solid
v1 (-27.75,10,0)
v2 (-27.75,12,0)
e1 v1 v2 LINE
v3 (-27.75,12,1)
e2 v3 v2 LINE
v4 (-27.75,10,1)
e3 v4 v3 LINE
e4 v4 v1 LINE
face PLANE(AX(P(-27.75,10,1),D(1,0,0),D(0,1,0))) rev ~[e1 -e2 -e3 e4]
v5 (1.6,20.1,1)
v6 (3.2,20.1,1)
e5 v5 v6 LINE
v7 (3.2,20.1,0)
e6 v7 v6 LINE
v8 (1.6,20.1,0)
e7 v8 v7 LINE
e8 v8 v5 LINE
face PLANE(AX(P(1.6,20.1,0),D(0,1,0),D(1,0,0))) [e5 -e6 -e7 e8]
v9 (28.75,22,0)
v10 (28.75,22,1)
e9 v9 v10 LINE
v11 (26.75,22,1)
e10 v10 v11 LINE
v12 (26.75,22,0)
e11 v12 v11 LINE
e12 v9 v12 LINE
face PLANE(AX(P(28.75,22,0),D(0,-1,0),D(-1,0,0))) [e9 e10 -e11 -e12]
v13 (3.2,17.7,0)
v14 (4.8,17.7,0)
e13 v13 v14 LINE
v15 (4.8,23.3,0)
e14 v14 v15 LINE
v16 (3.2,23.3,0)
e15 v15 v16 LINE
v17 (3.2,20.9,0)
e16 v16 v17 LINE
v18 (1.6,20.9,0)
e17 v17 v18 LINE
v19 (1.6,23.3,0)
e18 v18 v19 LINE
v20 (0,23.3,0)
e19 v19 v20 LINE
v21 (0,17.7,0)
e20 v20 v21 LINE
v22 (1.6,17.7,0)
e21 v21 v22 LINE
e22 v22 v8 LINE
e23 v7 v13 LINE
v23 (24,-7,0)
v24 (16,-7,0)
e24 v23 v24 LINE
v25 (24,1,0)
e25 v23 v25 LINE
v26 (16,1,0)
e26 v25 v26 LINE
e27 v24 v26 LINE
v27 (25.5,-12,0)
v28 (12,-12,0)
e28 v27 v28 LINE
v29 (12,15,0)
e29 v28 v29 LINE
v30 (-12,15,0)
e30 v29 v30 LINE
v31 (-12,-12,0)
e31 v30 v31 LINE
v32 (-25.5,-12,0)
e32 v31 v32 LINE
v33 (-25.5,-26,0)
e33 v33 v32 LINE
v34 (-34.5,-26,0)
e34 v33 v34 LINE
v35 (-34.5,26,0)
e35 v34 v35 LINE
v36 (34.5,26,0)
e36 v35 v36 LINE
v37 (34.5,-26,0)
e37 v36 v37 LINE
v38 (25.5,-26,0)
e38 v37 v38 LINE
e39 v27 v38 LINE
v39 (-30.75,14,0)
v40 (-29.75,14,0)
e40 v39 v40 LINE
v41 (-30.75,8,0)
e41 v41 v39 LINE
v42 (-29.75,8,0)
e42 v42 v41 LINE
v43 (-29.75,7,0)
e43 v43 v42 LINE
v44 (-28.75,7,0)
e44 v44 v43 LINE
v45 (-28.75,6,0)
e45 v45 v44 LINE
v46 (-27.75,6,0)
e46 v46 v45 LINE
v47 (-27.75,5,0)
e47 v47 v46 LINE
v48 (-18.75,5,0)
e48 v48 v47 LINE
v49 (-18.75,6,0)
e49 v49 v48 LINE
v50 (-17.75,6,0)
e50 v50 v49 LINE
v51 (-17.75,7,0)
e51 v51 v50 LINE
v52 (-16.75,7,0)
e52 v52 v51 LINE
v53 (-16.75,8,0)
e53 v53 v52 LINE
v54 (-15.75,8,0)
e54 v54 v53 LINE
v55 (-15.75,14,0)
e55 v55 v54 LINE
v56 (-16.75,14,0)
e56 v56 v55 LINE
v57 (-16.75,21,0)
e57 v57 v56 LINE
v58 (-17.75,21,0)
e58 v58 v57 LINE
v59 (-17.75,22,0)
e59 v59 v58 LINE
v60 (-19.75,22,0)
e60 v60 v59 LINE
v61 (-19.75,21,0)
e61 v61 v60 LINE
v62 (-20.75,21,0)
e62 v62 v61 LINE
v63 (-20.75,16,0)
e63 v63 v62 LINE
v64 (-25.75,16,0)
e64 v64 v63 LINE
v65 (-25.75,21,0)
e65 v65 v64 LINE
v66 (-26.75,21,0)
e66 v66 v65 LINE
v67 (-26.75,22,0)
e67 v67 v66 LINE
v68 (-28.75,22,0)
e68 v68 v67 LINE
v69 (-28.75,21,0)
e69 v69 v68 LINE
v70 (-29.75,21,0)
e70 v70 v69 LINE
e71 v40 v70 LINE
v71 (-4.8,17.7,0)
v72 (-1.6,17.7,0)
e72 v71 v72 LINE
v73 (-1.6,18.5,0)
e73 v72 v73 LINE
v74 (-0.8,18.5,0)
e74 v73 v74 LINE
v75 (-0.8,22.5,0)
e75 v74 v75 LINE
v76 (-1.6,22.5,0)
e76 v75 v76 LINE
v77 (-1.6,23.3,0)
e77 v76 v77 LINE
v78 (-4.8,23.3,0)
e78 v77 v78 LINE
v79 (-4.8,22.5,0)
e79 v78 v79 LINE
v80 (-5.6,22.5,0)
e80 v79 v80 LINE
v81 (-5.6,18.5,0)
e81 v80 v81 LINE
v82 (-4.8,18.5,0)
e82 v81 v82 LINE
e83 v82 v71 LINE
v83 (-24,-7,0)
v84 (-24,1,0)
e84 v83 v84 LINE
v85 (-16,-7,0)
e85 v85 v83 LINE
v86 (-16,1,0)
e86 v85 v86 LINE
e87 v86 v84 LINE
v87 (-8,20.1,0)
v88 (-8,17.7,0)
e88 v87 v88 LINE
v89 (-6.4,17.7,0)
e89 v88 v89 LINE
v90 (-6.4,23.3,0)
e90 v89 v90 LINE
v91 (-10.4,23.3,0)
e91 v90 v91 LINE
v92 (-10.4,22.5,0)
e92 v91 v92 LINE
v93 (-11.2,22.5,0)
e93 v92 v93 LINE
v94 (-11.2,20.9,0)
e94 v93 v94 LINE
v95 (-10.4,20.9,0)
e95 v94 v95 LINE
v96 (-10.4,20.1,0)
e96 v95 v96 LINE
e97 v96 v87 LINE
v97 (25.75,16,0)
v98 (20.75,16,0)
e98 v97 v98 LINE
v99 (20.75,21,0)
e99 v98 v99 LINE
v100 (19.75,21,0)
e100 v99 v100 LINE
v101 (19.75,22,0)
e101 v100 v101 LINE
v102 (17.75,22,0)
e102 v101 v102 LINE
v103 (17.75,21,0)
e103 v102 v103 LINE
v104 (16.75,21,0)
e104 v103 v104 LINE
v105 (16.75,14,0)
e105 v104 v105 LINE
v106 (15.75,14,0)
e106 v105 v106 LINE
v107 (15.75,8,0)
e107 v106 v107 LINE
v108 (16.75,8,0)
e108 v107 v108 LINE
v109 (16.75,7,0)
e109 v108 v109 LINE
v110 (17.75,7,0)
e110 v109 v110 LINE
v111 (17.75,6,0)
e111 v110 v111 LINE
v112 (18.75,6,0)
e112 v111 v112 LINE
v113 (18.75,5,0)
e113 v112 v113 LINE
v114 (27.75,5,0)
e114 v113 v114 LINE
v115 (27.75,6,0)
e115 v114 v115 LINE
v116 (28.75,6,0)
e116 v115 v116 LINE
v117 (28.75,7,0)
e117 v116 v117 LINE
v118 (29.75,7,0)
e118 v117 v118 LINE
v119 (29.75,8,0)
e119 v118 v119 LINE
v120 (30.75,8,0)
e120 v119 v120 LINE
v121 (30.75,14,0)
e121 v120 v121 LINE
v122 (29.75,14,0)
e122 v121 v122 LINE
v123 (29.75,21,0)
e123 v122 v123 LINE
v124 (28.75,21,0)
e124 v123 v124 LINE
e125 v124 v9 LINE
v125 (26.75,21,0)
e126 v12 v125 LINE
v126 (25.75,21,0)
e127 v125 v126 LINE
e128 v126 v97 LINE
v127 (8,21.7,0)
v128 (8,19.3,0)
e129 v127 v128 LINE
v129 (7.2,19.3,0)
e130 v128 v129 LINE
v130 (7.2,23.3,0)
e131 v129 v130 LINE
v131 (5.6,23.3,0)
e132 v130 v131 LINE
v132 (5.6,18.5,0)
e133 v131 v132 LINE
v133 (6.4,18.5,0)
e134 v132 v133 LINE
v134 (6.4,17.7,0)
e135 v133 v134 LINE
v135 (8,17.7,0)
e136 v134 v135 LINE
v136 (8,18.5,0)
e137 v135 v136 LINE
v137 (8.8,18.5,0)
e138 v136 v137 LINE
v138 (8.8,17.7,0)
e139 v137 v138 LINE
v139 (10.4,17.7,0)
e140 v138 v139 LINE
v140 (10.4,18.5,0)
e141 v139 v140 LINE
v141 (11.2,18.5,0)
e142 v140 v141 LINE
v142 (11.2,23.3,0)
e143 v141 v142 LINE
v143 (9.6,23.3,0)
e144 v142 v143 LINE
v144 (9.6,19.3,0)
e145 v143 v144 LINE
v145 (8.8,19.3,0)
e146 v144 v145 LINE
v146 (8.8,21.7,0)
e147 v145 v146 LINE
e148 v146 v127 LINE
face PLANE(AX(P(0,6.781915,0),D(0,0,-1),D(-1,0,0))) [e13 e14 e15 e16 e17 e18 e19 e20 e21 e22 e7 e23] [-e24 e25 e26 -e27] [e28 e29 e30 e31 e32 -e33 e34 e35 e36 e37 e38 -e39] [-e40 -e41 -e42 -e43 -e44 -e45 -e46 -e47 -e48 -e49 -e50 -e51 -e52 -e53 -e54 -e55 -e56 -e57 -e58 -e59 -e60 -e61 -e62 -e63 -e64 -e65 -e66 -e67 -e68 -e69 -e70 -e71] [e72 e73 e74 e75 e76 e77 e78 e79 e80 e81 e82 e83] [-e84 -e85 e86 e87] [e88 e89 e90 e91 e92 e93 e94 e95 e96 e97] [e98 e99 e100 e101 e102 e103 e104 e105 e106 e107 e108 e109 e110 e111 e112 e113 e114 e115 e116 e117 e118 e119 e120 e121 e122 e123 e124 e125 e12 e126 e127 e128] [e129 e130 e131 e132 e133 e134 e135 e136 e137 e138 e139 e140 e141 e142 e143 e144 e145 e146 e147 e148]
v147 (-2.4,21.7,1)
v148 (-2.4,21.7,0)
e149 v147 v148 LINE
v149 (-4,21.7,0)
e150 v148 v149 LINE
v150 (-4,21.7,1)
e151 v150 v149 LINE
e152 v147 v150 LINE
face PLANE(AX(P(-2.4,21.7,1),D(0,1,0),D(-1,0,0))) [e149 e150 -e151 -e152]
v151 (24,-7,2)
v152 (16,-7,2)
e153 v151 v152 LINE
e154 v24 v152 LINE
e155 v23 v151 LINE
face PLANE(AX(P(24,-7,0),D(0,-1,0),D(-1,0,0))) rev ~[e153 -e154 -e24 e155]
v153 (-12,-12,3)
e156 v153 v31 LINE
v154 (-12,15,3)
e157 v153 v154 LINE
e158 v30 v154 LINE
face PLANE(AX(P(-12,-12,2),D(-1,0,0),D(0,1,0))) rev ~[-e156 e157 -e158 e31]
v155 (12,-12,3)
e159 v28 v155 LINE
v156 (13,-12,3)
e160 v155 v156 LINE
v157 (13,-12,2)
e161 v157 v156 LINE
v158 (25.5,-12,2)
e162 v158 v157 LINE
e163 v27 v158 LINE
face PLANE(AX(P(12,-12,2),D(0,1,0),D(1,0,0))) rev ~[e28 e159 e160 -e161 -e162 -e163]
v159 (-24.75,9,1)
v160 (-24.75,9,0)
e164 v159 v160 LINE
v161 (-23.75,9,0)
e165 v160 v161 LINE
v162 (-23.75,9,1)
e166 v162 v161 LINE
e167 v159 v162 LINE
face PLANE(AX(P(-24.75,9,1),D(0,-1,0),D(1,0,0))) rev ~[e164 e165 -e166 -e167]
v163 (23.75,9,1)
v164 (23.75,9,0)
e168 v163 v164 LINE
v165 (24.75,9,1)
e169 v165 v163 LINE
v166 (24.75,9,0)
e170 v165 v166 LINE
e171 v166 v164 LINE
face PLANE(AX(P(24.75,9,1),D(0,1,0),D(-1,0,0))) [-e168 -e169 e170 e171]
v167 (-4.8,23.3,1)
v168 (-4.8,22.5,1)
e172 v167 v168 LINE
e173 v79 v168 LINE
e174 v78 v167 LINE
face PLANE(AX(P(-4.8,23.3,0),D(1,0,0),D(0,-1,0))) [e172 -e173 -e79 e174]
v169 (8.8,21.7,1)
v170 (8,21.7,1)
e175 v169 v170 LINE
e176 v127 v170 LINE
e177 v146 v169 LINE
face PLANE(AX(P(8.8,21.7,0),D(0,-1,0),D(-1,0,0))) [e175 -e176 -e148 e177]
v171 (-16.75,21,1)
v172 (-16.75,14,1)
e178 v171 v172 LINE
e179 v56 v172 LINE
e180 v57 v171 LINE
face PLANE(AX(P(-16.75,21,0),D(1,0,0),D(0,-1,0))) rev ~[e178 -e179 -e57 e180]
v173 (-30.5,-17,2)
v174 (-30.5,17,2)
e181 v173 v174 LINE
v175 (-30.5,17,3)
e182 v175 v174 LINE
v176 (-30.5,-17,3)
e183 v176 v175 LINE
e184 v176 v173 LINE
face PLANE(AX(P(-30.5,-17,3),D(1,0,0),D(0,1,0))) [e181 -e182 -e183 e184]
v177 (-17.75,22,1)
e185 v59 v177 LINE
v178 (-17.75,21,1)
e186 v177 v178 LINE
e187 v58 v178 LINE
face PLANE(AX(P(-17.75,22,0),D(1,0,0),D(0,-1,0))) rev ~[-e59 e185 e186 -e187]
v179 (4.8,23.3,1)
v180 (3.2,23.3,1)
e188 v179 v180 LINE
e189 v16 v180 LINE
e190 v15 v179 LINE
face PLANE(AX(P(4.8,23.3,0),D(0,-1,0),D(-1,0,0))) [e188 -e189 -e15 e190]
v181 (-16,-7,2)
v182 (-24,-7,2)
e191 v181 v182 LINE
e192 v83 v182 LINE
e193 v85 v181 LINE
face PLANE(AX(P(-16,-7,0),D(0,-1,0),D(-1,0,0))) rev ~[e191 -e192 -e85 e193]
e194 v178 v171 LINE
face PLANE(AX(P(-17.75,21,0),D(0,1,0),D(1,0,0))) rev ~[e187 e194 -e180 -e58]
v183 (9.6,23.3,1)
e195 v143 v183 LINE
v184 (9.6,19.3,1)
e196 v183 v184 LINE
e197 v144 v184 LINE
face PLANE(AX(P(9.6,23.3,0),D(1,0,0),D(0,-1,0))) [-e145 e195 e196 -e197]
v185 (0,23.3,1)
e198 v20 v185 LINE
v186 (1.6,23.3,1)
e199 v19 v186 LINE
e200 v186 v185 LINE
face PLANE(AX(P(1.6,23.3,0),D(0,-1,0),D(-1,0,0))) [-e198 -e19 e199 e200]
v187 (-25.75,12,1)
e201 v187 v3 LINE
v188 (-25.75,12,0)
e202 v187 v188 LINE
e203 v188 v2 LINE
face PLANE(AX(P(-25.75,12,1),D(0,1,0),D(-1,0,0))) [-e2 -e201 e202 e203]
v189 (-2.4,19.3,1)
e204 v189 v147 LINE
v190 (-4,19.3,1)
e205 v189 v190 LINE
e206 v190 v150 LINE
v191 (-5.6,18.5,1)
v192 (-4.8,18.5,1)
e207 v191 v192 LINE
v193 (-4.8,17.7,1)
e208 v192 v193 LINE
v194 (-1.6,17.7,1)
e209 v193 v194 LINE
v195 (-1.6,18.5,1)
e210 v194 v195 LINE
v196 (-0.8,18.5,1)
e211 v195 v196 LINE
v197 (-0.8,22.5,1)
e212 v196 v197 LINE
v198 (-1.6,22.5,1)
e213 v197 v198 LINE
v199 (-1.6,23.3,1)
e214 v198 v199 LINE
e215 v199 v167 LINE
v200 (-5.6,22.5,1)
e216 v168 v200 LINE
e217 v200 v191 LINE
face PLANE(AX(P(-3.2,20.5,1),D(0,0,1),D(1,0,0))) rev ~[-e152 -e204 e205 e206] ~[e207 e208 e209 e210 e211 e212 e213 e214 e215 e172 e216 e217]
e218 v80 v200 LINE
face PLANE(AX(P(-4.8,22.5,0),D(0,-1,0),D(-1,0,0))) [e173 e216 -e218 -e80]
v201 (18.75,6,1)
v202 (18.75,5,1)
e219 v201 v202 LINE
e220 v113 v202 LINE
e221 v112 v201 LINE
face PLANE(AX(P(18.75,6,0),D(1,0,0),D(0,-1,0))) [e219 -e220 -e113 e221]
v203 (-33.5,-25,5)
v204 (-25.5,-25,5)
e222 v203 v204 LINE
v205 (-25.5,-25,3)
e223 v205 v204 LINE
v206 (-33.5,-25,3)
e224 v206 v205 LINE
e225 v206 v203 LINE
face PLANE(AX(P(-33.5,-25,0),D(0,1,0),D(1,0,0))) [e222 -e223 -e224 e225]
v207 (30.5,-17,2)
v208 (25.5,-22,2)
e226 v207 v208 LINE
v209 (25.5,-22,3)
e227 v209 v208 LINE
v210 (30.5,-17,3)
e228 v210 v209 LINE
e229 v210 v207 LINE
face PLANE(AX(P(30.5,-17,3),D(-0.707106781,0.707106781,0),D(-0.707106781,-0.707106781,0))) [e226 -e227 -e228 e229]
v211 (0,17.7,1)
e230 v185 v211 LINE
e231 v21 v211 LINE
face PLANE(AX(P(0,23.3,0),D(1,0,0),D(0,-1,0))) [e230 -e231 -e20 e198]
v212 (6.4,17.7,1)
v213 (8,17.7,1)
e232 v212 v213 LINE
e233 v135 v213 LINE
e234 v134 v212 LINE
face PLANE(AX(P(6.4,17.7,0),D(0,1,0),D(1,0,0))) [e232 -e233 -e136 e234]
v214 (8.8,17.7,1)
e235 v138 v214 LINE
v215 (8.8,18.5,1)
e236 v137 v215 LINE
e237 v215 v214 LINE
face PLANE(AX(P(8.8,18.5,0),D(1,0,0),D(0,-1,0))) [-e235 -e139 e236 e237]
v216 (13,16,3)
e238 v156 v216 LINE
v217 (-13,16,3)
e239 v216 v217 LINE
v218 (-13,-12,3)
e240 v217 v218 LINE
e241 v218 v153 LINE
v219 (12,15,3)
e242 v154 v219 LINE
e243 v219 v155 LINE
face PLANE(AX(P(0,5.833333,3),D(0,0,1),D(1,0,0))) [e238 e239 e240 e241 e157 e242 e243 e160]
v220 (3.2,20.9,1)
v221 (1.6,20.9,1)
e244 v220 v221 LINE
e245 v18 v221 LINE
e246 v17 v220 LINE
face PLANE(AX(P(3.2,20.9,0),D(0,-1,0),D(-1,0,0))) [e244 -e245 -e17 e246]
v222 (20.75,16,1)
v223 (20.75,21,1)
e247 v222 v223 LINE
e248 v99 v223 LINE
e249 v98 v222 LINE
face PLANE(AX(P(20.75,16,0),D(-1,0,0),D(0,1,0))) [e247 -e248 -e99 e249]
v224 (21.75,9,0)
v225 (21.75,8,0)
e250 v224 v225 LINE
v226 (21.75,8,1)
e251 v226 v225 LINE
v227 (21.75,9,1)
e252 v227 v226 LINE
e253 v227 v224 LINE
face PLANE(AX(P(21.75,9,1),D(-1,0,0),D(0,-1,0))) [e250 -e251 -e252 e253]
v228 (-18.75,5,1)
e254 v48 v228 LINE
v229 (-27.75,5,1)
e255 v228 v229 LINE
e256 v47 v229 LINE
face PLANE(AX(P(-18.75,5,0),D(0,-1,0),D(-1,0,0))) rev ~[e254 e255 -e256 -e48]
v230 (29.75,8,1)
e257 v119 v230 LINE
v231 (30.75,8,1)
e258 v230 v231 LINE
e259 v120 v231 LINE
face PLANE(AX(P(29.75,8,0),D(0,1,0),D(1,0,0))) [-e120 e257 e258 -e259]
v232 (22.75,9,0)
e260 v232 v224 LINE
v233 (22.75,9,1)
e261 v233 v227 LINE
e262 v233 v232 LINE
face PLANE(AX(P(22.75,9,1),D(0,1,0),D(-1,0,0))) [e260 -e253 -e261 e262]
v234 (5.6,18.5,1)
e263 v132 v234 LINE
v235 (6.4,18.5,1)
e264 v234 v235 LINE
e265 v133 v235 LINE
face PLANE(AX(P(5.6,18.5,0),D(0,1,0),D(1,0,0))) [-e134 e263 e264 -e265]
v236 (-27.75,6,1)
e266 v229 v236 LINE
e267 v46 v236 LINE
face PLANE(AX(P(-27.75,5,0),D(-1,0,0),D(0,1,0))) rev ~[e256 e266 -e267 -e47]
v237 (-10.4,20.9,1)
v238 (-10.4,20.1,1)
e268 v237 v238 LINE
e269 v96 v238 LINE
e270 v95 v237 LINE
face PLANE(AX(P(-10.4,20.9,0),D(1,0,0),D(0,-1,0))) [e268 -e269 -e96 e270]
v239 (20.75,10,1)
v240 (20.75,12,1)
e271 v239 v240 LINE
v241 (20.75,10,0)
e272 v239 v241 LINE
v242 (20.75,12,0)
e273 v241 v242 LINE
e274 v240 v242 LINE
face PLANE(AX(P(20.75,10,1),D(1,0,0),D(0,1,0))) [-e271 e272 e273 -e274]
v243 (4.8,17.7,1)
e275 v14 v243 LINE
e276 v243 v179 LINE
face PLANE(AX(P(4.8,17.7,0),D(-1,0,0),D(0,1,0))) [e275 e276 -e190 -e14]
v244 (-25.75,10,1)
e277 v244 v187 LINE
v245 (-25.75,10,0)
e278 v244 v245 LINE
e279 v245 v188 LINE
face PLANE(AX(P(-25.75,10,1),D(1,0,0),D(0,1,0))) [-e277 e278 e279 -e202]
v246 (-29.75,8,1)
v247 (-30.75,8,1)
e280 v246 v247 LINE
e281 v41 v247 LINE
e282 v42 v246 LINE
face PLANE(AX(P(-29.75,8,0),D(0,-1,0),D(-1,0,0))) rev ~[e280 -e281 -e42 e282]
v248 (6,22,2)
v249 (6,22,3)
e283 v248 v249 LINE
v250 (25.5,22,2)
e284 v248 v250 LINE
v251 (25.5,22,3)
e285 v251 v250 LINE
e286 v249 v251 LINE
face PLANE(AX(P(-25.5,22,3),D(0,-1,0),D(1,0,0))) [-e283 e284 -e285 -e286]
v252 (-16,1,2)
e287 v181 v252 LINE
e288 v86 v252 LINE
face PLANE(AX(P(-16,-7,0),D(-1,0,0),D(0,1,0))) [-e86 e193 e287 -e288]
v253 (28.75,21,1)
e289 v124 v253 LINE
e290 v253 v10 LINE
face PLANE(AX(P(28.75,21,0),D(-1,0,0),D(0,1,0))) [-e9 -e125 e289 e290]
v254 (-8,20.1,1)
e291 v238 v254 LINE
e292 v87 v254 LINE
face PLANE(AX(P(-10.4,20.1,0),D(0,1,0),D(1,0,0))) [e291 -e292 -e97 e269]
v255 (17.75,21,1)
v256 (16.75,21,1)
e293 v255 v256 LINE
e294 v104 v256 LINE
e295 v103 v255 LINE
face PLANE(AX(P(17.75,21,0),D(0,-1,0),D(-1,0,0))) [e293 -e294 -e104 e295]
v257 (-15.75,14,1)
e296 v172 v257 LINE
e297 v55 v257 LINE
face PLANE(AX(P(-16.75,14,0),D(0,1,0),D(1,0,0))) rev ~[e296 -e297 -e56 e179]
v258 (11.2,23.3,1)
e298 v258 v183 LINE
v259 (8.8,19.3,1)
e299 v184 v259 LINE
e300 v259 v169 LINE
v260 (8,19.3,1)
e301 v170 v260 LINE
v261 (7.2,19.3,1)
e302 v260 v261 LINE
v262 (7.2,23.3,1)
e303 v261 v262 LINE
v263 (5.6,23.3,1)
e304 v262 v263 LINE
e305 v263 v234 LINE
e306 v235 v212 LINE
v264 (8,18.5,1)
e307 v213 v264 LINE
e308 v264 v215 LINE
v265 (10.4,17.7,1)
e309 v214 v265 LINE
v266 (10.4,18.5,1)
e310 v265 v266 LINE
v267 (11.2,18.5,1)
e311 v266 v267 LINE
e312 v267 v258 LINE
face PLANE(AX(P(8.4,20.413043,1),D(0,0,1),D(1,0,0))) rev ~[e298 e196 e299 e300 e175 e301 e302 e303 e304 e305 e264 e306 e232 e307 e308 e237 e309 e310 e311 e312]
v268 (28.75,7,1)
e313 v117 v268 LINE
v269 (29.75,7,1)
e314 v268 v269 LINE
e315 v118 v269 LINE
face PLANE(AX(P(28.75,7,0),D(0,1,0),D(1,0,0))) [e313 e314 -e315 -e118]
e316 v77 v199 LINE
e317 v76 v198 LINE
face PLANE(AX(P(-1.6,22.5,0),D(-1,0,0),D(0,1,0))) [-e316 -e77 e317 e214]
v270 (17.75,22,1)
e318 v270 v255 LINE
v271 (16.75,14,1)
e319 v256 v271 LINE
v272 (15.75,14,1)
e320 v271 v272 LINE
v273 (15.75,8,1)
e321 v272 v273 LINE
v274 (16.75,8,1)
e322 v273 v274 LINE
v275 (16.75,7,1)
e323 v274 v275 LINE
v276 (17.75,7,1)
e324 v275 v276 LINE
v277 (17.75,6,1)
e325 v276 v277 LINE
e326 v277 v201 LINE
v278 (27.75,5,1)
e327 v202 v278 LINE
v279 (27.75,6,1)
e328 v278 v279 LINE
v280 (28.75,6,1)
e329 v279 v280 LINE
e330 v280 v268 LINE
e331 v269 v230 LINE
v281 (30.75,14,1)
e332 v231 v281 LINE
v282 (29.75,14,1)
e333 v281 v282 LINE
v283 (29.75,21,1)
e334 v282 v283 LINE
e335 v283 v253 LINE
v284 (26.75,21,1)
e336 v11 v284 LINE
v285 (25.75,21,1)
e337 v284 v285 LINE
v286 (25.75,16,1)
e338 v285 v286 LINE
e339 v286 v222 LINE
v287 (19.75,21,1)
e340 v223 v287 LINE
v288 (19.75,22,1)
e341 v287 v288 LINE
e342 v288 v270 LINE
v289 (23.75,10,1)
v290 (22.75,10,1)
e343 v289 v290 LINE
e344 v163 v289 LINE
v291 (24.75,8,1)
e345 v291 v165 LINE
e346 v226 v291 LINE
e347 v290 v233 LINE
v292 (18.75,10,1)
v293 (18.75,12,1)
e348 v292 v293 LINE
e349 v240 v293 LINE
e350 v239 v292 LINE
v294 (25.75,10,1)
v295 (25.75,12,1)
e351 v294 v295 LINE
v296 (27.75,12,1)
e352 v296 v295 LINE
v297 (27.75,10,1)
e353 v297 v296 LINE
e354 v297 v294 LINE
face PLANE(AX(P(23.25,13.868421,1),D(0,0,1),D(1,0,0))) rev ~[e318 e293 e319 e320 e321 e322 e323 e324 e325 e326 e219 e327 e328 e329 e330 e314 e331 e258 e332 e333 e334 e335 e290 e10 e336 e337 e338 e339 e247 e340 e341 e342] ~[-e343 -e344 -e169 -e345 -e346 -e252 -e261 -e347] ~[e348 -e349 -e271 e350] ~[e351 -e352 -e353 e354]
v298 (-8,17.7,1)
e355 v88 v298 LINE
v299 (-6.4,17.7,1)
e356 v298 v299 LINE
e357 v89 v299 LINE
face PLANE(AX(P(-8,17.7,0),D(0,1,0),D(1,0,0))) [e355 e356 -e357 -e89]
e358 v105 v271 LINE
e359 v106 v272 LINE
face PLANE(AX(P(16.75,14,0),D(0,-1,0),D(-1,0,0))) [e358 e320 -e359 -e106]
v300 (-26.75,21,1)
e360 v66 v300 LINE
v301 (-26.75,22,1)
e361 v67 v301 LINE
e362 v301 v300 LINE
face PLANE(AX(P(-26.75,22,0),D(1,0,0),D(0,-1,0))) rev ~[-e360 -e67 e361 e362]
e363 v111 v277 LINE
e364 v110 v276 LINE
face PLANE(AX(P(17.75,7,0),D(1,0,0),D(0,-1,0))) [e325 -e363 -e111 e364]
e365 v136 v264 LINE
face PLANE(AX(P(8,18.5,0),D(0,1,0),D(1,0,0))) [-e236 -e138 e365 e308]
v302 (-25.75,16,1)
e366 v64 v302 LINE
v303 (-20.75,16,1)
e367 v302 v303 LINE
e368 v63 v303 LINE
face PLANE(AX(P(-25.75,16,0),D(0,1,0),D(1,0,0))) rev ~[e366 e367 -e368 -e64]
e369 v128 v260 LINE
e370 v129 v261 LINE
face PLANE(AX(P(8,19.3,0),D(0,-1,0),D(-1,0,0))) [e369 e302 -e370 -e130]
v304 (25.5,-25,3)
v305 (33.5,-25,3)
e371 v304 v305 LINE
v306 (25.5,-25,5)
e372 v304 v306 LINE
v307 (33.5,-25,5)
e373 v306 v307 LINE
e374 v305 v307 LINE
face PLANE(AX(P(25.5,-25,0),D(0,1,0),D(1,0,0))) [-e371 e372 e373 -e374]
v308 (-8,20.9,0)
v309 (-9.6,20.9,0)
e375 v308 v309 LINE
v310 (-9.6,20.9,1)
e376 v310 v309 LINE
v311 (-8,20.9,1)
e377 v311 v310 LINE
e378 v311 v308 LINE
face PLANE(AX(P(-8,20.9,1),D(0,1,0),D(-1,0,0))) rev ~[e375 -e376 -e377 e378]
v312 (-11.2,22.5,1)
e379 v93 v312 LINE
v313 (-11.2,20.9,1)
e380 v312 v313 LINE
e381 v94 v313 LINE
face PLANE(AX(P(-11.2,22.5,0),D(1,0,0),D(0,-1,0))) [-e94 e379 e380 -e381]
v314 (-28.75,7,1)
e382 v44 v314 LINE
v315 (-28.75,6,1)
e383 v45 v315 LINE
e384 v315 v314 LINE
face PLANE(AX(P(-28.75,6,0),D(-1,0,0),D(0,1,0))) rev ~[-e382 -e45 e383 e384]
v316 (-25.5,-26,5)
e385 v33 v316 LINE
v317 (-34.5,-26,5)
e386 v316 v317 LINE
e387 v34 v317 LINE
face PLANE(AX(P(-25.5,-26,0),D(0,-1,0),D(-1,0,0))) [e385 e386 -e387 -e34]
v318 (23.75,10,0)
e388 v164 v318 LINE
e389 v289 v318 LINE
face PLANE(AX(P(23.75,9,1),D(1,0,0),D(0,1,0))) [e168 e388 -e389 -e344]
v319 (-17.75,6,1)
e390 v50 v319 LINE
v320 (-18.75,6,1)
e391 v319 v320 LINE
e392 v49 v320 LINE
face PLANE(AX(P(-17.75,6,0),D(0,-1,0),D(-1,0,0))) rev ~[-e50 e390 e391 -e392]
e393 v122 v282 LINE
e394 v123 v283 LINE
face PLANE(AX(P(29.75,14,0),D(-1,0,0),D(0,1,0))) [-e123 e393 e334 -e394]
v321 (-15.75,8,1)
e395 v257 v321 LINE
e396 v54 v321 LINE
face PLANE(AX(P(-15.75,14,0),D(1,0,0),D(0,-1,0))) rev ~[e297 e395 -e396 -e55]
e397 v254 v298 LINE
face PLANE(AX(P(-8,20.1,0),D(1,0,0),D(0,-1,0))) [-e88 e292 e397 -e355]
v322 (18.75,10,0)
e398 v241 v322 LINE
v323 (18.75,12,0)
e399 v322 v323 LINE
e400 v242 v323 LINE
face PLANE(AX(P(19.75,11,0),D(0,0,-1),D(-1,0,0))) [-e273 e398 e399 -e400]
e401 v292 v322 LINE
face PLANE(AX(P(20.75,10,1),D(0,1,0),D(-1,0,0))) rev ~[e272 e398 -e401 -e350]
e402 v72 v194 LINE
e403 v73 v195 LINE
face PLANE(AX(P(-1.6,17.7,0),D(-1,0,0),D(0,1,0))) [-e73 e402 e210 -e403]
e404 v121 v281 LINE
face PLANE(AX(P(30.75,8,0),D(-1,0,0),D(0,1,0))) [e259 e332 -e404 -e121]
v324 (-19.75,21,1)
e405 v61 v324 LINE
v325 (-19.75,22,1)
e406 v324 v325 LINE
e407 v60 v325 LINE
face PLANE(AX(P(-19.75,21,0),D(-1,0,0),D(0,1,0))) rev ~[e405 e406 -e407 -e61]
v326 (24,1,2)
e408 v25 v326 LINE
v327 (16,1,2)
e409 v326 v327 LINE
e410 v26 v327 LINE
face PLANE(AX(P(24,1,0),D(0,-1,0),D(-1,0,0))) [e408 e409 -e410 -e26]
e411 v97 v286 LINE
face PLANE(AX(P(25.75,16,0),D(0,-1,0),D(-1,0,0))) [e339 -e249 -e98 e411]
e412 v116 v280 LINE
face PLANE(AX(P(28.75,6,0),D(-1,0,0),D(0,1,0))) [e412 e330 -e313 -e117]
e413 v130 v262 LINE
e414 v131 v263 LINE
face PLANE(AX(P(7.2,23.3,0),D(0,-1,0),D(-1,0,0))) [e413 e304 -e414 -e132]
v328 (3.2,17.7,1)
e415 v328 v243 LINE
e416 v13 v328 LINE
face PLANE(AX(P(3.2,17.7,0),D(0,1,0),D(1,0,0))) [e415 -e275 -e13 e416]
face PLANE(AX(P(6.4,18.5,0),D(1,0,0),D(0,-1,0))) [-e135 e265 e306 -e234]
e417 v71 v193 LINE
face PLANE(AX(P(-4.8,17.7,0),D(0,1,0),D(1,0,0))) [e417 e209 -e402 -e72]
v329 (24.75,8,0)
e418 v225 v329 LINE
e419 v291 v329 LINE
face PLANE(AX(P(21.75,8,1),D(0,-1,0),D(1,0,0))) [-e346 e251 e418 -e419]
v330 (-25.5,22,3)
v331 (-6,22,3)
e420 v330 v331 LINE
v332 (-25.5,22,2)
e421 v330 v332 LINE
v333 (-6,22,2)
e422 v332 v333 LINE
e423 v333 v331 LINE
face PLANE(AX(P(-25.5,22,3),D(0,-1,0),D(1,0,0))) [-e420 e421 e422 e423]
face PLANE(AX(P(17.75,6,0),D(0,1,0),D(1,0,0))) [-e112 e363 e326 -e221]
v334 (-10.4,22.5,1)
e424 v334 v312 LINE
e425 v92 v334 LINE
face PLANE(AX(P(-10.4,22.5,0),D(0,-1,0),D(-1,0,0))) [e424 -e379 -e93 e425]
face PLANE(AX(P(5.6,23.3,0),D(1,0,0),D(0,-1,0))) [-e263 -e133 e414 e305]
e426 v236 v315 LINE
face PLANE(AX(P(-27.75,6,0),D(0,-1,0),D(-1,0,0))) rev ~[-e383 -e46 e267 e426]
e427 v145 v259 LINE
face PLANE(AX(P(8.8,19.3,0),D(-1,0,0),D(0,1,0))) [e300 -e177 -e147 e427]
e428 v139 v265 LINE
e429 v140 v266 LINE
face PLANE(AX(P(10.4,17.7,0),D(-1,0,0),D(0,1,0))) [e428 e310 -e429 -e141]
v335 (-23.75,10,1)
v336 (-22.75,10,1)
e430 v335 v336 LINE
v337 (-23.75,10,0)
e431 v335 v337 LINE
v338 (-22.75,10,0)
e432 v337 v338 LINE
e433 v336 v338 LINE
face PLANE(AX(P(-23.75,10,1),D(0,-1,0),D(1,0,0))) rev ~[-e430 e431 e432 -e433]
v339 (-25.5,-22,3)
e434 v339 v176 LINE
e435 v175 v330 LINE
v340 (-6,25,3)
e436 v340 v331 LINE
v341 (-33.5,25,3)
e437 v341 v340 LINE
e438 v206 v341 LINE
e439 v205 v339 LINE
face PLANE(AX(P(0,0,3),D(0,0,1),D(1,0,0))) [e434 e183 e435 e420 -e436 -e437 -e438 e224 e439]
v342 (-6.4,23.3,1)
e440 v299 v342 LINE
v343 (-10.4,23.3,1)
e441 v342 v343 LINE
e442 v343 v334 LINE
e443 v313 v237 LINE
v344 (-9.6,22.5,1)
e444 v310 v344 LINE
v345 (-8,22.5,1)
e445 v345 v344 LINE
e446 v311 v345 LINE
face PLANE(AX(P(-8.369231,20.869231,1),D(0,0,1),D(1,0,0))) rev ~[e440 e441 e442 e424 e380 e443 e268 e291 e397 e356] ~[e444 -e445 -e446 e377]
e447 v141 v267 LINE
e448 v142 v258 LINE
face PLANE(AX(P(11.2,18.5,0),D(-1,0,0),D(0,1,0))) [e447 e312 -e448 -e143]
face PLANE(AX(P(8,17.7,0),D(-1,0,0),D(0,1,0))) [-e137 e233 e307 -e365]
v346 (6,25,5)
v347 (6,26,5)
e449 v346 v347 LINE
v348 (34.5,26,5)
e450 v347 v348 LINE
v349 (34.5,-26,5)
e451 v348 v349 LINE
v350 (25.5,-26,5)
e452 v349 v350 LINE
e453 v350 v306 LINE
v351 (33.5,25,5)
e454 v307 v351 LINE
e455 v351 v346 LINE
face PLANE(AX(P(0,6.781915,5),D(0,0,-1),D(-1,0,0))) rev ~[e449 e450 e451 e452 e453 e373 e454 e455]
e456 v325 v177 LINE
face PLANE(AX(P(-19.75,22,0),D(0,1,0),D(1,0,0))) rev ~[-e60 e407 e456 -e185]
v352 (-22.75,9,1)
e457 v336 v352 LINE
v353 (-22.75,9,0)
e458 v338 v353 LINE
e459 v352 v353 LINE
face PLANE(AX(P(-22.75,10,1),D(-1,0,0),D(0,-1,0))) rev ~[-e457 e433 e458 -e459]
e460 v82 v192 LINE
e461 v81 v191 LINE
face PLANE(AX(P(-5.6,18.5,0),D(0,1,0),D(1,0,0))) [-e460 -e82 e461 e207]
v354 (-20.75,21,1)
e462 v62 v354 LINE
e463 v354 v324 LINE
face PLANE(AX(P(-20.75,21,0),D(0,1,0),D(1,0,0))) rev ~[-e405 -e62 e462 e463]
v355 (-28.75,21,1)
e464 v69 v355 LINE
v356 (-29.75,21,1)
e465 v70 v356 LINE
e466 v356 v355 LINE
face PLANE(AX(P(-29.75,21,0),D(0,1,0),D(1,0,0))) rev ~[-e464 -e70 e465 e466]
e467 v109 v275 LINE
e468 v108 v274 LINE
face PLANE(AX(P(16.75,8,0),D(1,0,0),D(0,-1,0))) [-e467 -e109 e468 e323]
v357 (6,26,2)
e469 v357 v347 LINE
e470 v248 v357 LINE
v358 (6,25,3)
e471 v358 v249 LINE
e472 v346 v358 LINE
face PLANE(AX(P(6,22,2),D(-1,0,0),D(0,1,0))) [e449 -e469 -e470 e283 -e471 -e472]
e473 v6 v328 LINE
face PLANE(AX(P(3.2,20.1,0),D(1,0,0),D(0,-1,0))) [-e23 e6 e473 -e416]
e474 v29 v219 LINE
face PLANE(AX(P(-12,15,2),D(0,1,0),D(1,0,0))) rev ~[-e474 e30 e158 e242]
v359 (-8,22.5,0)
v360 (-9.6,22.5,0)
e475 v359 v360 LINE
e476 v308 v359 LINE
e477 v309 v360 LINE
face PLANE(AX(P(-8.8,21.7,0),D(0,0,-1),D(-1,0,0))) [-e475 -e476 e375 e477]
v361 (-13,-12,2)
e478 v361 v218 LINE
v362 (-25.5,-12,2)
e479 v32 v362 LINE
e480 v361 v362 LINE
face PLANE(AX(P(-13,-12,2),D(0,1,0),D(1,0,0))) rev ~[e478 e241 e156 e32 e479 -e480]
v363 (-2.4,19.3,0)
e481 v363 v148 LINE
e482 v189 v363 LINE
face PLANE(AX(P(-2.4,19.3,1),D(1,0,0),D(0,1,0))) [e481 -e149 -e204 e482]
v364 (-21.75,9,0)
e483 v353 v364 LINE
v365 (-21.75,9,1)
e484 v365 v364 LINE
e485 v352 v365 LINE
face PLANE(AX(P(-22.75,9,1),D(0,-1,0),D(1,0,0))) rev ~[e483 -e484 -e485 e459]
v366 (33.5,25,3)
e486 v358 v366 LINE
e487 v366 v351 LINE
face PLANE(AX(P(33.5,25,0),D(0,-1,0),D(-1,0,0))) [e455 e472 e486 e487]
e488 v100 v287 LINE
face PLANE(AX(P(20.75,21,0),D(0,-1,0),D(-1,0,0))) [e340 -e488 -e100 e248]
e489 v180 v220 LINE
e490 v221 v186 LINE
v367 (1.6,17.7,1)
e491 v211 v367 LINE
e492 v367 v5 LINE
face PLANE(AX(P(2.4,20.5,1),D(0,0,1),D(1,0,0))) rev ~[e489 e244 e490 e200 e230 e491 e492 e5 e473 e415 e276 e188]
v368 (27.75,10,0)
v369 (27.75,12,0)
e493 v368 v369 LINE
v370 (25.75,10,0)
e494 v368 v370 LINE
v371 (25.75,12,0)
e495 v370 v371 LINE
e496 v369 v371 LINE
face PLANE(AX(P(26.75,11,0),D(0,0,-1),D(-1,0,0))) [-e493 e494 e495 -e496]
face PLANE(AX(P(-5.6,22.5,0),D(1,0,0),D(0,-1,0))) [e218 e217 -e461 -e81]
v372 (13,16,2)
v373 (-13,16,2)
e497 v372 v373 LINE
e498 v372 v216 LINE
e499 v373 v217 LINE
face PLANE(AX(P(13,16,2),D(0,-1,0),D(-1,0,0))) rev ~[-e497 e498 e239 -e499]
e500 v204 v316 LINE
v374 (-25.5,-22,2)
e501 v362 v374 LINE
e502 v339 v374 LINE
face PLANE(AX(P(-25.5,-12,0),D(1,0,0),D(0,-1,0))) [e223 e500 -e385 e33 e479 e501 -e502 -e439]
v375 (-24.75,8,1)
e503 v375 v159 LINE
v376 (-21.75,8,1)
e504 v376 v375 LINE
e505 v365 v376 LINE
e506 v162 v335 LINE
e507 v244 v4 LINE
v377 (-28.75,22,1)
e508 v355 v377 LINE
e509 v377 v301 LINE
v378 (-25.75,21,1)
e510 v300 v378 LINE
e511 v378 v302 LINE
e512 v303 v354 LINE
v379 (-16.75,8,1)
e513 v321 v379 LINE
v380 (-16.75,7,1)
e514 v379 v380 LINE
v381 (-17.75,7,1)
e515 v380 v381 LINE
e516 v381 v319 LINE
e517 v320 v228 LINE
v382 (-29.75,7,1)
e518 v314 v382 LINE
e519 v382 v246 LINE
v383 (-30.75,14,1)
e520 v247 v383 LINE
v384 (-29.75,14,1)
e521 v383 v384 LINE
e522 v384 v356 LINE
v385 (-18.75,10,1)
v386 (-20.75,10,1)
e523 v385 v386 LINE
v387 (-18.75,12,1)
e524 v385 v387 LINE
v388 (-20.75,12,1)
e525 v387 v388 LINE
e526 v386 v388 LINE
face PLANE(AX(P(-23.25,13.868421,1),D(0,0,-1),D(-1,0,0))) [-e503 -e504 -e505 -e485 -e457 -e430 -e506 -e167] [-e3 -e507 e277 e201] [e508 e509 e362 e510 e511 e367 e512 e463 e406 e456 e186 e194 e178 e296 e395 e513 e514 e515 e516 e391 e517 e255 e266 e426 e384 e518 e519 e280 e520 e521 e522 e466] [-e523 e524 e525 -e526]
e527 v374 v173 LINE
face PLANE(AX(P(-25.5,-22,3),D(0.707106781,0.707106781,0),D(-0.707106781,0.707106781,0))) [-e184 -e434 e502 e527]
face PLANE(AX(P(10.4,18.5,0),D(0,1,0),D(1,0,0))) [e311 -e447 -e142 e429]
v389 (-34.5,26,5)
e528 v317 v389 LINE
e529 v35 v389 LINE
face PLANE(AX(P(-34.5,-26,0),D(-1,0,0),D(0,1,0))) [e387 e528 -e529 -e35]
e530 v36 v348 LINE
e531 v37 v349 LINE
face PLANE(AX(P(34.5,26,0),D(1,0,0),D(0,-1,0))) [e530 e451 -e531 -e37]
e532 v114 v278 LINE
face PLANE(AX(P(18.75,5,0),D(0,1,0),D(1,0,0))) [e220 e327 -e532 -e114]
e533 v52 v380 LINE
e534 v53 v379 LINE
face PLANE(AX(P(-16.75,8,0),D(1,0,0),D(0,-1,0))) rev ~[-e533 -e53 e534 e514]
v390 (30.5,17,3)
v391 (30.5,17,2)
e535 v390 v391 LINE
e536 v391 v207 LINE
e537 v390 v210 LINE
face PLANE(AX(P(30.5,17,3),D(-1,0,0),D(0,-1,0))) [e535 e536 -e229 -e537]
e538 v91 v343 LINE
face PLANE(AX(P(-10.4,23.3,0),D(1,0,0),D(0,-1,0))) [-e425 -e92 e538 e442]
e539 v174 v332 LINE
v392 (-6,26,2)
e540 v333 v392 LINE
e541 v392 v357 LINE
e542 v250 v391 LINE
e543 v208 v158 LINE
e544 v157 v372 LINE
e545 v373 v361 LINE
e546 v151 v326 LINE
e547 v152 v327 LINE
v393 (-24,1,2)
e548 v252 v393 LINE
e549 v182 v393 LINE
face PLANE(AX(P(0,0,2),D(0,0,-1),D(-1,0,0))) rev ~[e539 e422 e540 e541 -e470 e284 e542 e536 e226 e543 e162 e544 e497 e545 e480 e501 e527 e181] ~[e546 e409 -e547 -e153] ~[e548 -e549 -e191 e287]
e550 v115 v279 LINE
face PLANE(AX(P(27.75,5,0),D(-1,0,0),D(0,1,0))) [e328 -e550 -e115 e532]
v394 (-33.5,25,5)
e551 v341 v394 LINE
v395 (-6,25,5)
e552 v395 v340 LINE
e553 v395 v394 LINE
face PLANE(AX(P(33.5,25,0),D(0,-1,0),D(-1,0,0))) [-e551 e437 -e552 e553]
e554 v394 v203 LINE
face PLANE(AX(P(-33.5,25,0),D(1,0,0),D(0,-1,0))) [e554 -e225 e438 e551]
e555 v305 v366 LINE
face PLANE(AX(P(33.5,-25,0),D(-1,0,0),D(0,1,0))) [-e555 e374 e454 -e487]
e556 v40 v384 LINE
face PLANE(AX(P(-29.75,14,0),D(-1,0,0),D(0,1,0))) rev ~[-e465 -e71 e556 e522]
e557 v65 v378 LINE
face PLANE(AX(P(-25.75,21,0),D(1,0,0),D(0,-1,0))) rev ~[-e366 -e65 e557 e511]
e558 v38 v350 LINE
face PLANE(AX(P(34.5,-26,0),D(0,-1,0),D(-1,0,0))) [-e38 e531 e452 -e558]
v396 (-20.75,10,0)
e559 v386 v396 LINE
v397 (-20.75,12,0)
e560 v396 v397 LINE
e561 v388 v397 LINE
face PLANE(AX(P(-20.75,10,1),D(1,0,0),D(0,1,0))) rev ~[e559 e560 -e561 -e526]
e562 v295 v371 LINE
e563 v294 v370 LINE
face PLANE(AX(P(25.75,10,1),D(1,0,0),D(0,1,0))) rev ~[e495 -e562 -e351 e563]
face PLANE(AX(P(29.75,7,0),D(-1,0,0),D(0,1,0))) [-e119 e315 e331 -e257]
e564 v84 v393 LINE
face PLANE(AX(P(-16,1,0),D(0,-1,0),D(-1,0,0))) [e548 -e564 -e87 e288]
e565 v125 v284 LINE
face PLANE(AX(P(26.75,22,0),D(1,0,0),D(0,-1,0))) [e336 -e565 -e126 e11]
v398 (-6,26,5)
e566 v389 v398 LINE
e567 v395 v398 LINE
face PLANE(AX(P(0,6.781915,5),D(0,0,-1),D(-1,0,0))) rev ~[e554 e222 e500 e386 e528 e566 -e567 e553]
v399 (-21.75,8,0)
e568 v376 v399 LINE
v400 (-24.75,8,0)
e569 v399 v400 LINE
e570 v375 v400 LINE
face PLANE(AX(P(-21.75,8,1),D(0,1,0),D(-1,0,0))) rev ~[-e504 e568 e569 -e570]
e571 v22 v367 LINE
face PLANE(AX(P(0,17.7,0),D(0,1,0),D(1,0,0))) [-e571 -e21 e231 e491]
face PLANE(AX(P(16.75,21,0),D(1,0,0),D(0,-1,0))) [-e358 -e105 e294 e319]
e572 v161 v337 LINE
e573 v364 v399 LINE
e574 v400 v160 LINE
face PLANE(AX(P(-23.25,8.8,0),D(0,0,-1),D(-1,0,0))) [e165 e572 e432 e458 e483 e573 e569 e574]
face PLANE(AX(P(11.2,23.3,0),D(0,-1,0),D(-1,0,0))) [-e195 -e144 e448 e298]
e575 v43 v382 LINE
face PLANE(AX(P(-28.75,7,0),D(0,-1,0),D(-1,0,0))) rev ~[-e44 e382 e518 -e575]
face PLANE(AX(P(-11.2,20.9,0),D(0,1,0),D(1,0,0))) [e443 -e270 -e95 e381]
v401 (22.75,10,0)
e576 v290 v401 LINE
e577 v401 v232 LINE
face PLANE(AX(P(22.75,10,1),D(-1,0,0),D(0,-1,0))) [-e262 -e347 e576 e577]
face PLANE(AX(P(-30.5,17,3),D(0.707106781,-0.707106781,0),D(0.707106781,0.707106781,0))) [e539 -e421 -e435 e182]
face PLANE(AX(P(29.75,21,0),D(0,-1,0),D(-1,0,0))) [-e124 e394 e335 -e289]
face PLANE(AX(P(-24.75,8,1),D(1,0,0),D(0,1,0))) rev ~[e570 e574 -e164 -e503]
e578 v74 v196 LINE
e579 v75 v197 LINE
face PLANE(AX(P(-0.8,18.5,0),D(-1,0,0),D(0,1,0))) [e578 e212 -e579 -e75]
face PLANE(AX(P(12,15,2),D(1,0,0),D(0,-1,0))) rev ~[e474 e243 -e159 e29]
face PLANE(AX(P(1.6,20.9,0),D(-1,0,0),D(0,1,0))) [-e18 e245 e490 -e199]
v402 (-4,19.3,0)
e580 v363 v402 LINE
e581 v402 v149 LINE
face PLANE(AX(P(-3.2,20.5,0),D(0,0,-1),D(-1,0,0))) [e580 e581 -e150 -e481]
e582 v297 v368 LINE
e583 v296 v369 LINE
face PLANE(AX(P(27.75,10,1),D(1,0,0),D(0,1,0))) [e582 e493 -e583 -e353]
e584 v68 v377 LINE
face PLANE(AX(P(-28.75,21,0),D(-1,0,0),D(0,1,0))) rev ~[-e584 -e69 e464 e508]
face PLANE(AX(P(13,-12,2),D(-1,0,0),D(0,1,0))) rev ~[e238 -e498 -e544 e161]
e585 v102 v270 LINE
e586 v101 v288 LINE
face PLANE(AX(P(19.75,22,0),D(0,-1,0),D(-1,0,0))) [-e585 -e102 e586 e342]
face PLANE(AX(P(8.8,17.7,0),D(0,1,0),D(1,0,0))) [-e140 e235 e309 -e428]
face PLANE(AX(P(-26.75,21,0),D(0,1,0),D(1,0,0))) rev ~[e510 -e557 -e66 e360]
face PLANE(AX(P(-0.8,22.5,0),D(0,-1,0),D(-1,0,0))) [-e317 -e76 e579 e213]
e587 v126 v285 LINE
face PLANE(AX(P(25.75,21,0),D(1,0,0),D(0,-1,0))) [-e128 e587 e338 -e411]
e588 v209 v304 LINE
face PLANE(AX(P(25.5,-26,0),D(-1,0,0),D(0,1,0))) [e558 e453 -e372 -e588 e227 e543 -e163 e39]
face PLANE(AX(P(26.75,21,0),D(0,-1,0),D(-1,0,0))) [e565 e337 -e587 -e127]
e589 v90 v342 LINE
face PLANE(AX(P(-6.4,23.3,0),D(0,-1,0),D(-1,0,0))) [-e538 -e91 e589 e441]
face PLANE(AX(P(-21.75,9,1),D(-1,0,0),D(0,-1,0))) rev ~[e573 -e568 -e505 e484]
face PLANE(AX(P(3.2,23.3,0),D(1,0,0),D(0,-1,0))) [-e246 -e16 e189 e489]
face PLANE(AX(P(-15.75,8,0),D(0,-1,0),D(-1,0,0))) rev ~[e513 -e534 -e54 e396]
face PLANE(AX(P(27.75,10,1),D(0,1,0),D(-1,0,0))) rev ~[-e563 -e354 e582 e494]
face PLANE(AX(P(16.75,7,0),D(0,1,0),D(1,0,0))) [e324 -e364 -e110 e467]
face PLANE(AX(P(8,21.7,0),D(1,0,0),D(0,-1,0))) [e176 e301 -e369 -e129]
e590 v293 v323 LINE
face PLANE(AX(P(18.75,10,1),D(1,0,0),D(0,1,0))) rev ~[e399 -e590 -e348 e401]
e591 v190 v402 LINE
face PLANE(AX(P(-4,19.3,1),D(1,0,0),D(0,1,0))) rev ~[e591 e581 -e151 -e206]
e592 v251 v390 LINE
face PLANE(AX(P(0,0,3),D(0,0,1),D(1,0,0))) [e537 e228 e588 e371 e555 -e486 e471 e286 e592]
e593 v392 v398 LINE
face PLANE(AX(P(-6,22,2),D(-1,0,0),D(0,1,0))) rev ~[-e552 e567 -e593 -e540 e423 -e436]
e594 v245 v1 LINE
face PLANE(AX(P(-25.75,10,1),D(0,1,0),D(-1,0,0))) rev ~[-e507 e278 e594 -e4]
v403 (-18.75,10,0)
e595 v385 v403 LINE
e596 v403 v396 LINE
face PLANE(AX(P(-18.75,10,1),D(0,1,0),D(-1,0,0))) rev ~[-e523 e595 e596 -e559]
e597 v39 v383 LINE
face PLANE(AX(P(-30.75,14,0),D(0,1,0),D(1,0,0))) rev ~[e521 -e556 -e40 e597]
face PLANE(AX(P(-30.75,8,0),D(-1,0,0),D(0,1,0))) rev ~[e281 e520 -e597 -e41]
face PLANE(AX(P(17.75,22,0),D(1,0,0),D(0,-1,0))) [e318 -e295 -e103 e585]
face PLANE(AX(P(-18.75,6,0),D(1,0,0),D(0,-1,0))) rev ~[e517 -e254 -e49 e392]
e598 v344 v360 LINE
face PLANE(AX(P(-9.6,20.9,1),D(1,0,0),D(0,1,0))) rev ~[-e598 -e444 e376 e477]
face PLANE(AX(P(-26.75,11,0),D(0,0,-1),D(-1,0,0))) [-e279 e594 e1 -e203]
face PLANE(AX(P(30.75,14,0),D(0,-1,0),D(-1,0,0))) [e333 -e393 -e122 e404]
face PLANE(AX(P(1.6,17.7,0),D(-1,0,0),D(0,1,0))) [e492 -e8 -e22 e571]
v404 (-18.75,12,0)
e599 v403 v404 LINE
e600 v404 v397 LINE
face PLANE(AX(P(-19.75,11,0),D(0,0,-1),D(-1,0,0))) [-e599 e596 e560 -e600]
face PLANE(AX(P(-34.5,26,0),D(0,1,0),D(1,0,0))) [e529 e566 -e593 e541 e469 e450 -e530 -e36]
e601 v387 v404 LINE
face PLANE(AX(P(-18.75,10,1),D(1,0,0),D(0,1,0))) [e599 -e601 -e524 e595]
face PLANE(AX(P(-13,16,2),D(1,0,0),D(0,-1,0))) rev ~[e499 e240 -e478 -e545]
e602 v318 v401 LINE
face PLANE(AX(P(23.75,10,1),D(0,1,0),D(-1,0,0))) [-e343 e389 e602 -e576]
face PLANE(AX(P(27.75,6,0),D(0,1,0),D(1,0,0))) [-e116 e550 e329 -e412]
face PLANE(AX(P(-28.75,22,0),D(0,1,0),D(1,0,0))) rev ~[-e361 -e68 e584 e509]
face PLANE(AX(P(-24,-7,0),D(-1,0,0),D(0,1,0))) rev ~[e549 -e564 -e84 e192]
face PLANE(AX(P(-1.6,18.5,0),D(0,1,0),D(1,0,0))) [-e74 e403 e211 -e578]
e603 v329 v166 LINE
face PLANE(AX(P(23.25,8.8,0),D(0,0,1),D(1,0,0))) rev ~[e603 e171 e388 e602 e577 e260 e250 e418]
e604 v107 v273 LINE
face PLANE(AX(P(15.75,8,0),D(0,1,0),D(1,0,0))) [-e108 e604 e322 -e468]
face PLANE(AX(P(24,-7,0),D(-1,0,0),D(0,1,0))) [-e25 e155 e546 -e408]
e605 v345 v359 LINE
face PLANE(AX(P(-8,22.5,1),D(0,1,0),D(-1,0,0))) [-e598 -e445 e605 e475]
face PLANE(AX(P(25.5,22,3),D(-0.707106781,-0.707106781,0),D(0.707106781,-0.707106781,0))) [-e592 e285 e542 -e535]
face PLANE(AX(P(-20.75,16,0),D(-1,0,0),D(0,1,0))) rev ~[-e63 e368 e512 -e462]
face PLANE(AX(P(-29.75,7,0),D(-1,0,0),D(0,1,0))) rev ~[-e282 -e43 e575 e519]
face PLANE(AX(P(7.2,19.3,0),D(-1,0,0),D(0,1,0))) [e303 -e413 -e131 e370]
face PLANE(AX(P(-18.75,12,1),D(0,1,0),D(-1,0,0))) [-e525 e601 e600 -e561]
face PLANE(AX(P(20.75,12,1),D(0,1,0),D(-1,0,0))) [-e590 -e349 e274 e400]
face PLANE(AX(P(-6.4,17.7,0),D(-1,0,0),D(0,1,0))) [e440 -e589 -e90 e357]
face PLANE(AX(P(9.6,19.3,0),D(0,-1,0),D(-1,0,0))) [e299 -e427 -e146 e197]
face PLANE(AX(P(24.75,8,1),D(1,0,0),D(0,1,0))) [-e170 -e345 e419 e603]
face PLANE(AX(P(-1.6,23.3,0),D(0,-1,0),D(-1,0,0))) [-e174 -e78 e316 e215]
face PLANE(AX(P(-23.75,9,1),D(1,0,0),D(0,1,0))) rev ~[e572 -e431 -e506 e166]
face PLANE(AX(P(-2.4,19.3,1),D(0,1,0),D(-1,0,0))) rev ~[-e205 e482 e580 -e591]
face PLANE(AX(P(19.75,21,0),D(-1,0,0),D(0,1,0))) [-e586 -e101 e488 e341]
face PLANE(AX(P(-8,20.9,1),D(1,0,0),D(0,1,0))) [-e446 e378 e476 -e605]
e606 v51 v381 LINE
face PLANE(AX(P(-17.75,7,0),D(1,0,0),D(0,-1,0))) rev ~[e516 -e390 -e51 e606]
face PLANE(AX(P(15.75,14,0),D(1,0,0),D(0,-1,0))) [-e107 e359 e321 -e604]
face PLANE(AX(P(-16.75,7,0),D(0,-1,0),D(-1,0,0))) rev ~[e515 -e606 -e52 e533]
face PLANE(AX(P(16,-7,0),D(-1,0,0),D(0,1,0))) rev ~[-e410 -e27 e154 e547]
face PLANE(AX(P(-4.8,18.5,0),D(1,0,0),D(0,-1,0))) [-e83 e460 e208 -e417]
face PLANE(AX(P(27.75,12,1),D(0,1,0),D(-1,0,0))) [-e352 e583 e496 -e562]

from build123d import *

# Parameters (mm, degrees)
SKICA1_W                    = 67
SKICA1_H                    = 50
P_IDAT_VYSUNUT_M1_DEPTH     = 3
ODEBRAT_VYSUNUT_M1_DEPTH    = 1
SKICA3_W                    = 8
SKICA3_H                    = 8
ODEBRAT_VYSUNUT_M2_DEPTH    = 4
VYSUNOUT_TENKOST_NN_1_DEPTH = 1
VYSUNOUT_TENKOST_NN_2_DEPTH = 5
SKICA6_W                    = 12
SKICA6_H                    = 4
ODEBRAT_VYSUNUT_M3_DEPTH    = 4
ODEBRAT_VYSUNUT_M4_DEPTH    = 1
P_IDAT_START                = -1
SKICA8_W                    = 2
SKICA8_H                    = 2
P_IDAT_VYSUNUT_M2_DEPTH     = 1
ODEBRAT_VYSUNUT_M5_DEPTH    = 1
SKICA10_W                   = 1.6
SKICA10_H                   = 2.4
SKICA10_H_2                 = 1.6
P_IDAT_VYSUNUT_M3_DEPTH     = 1


with BuildPart() as part:
    # Skica1 → Přidat vysunutím1 (new body)
    with BuildSketch(Plane.XY):
        Rectangle(SKICA1_W, SKICA1_H)
    extrude(amount=P_IDAT_VYSUNUT_M1_DEPTH)

    # Skica2 → Odebrat vysunutím1 (cut)
    with BuildSketch(Plane.XY.offset(3)):
        Polygon((-25.5, -22), (-30.5, -17), (-30.5, 17), (-25.5, 22), (25.5, 22), (30.5, 17), (30.5, -17), (25.5, -22), align=None)
    extrude(amount=-ODEBRAT_VYSUNUT_M1_DEPTH, mode=Mode.SUBTRACT)

    # Skica3 → Odebrat vysunutím2 (cut, through all)
    with BuildSketch(Plane(origin=(0, 0, 0), x_dir=(-1, 0, 0), z_dir=(0, 0, -1))):
        with Locations((20, -3)):
            Rectangle(SKICA3_W, SKICA3_H)
        with Locations((-20, -3)):
            Rectangle(SKICA3_W, SKICA3_H)
        Polygon((25.5, -25), (-25.5, -25), (-25.5, -12), (-12, -12), (-12, 15), (12, 15), (12, -12), (25.5, -12), align=None)
    extrude(amount=-ODEBRAT_VYSUNUT_M2_DEPTH, mode=Mode.SUBTRACT)

    # Skica4 → Vysunout tenkostěnný1 (add)
    with BuildSketch(Plane.XY.offset(2)):
        Polygon((-12, -12), (-12, 15), (12, 15), (12, -12), (13, -12), (13, 16), (-13, 16), (-13, -12), align=None)
    extrude(amount=VYSUNOUT_TENKOST_NN_1_DEPTH)

    # Skica5 → Vysunout tenkostěnný2 (add)
    with BuildSketch(Plane(origin=(0, 0, 0), x_dir=(-1, 0, 0), z_dir=(0, 0, -1))):
        Polygon((-25.5, -25), (-33.5, -25), (-33.5, 25), (33.5, 25), (33.5, -25), (25.5, -25), (25.5, -26), (34.5, -26), (34.5, 26), (-34.5, 26), (-34.5, -26), (-25.5, -26), align=None)
    extrude(amount=-VYSUNOUT_TENKOST_NN_2_DEPTH)

    # Skica6 → Odebrat vysunutím3 (cut, through all)
    with BuildSketch(Plane.XY.offset(2)):
        with Locations((0, 24)):
            Rectangle(SKICA6_W, SKICA6_H)
    extrude(amount=ODEBRAT_VYSUNUT_M3_DEPTH, mode=Mode.SUBTRACT)

    # Skica7 → Odebrat vysunutím4 (cut)
    with BuildSketch(Plane(origin=(0, 0, 0), x_dir=(-1, 0, 0), z_dir=(0, 0, -1))):
        Polygon((-28.75, 22), (-26.75, 22), (-26.75, 21), (-25.75, 21), (-25.75, 16), (-20.75, 16), (-20.75, 21), (-19.75, 21), (-19.75, 22), (-17.75, 22), (-17.75, 21), (-16.75, 21), (-16.75, 14), (-15.75, 14), (-15.75, 8), (-16.75, 8), (-16.75, 7), (-17.75, 7), (-17.75, 6), (-18.75, 6), (-18.75, 5), (-27.75, 5), (-27.75, 6), (-28.75, 6), (-28.75, 7), (-29.75, 7), (-29.75, 8), (-30.75, 8), (-30.75, 14), (-29.75, 14), (-29.75, 21), (-28.75, 21), align=None)
        Polygon((18.75, 6), (18.75, 5), (27.75, 5), (27.75, 6), (28.75, 6), (28.75, 7), (29.75, 7), (29.75, 8), (30.75, 8), (30.75, 14), (29.75, 14), (29.75, 21), (28.75, 21), (28.75, 22), (26.75, 22), (26.75, 21), (25.75, 21), (25.75, 16), (20.75, 16), (20.75, 21), (19.75, 21), (19.75, 22), (17.75, 22), (17.75, 21), (16.75, 21), (16.75, 14), (15.75, 14), (15.75, 8), (16.75, 8), (16.75, 7), (17.75, 7), (17.75, 6), align=None)
    extrude(amount=-ODEBRAT_VYSUNUT_M4_DEPTH, mode=Mode.SUBTRACT)

    # Skica8 → Přidat vysunutím2 (add)
    with BuildSketch(Plane(origin=(0, 0, 0), x_dir=(-1, 0, 0), z_dir=(0, 0, -1)).offset(P_IDAT_START)):
        with Locations((-26.75, 11)):
            Rectangle(SKICA8_W, SKICA8_H)
        with Locations((-19.75, 11)):
            Rectangle(SKICA8_W, SKICA8_H)
        Polygon((-23.75, 10), (-22.75, 10), (-22.75, 9), (-21.75, 9), (-21.75, 8), (-24.75, 8), (-24.75, 9), (-23.75, 9), align=None)
        Polygon((24.75, 9), (23.75, 9), (23.75, 10), (22.75, 10), (22.75, 9), (21.75, 9), (21.75, 8), (24.75, 8), align=None)
        with Locations((26.75, 11)):
            Rectangle(SKICA8_W, SKICA8_H)
        with Locations((19.75, 11)):
            Rectangle(SKICA8_W, SKICA8_H)
    extrude(amount=P_IDAT_VYSUNUT_M2_DEPTH)

    # Skica9 → Odebrat vysunutím5 (cut)
    with BuildSketch(Plane(origin=(0, 0, 0), x_dir=(-1, 0, 0), z_dir=(0, 0, -1))):
        Polygon((-11.2, 23.3), (-9.6, 23.3), (-9.6, 19.3), (-8.8, 19.3), (-8.8, 21.7), (-8, 21.7), (-8, 19.3), (-7.2, 19.3), (-7.2, 23.3), (-5.6, 23.3), (-5.6, 18.5), (-6.4, 18.5), (-6.4, 17.7), (-8, 17.7), (-8, 18.5), (-8.8, 18.5), (-8.8, 17.7), (-10.4, 17.7), (-10.4, 18.5), (-11.2, 18.5), align=None)
        Polygon((-4.8, 23.3), (-3.2, 23.3), (-3.2, 20.9), (-1.6, 20.9), (-1.6, 23.3), (0, 23.3), (0, 17.7), (-1.6, 17.7), (-1.6, 20.1), (-3.2, 20.1), (-3.2, 17.7), (-4.8, 17.7), align=None)
        Polygon((1.6, 23.3), (4.8, 23.3), (4.8, 22.5), (5.6, 22.5), (5.6, 18.5), (4.8, 18.5), (4.8, 17.7), (1.6, 17.7), (1.6, 18.5), (0.8, 18.5), (0.8, 22.5), (1.6, 22.5), align=None)
        Polygon((6.4, 23.3), (10.4, 23.3), (10.4, 22.5), (11.2, 22.5), (11.2, 20.9), (10.4, 20.9), (10.4, 20.1), (8, 20.1), (8, 17.7), (6.4, 17.7), align=None)
    extrude(amount=-ODEBRAT_VYSUNUT_M5_DEPTH, mode=Mode.SUBTRACT)

    # Skica10 → Přidat vysunutím3 (add)
    with BuildSketch(Plane(origin=(0, 0, 0), x_dir=(-1, 0, 0), z_dir=(0, 0, -1)).offset(P_IDAT_START)):
        with Locations((3.2, 20.5)):
            Rectangle(SKICA10_W, SKICA10_H)
        with Locations((8.8, 21.7)):
            Rectangle(SKICA10_W, SKICA10_H_2)
    extrude(amount=P_IDAT_VYSUNUT_M3_DEPTH)


solid = part.part
